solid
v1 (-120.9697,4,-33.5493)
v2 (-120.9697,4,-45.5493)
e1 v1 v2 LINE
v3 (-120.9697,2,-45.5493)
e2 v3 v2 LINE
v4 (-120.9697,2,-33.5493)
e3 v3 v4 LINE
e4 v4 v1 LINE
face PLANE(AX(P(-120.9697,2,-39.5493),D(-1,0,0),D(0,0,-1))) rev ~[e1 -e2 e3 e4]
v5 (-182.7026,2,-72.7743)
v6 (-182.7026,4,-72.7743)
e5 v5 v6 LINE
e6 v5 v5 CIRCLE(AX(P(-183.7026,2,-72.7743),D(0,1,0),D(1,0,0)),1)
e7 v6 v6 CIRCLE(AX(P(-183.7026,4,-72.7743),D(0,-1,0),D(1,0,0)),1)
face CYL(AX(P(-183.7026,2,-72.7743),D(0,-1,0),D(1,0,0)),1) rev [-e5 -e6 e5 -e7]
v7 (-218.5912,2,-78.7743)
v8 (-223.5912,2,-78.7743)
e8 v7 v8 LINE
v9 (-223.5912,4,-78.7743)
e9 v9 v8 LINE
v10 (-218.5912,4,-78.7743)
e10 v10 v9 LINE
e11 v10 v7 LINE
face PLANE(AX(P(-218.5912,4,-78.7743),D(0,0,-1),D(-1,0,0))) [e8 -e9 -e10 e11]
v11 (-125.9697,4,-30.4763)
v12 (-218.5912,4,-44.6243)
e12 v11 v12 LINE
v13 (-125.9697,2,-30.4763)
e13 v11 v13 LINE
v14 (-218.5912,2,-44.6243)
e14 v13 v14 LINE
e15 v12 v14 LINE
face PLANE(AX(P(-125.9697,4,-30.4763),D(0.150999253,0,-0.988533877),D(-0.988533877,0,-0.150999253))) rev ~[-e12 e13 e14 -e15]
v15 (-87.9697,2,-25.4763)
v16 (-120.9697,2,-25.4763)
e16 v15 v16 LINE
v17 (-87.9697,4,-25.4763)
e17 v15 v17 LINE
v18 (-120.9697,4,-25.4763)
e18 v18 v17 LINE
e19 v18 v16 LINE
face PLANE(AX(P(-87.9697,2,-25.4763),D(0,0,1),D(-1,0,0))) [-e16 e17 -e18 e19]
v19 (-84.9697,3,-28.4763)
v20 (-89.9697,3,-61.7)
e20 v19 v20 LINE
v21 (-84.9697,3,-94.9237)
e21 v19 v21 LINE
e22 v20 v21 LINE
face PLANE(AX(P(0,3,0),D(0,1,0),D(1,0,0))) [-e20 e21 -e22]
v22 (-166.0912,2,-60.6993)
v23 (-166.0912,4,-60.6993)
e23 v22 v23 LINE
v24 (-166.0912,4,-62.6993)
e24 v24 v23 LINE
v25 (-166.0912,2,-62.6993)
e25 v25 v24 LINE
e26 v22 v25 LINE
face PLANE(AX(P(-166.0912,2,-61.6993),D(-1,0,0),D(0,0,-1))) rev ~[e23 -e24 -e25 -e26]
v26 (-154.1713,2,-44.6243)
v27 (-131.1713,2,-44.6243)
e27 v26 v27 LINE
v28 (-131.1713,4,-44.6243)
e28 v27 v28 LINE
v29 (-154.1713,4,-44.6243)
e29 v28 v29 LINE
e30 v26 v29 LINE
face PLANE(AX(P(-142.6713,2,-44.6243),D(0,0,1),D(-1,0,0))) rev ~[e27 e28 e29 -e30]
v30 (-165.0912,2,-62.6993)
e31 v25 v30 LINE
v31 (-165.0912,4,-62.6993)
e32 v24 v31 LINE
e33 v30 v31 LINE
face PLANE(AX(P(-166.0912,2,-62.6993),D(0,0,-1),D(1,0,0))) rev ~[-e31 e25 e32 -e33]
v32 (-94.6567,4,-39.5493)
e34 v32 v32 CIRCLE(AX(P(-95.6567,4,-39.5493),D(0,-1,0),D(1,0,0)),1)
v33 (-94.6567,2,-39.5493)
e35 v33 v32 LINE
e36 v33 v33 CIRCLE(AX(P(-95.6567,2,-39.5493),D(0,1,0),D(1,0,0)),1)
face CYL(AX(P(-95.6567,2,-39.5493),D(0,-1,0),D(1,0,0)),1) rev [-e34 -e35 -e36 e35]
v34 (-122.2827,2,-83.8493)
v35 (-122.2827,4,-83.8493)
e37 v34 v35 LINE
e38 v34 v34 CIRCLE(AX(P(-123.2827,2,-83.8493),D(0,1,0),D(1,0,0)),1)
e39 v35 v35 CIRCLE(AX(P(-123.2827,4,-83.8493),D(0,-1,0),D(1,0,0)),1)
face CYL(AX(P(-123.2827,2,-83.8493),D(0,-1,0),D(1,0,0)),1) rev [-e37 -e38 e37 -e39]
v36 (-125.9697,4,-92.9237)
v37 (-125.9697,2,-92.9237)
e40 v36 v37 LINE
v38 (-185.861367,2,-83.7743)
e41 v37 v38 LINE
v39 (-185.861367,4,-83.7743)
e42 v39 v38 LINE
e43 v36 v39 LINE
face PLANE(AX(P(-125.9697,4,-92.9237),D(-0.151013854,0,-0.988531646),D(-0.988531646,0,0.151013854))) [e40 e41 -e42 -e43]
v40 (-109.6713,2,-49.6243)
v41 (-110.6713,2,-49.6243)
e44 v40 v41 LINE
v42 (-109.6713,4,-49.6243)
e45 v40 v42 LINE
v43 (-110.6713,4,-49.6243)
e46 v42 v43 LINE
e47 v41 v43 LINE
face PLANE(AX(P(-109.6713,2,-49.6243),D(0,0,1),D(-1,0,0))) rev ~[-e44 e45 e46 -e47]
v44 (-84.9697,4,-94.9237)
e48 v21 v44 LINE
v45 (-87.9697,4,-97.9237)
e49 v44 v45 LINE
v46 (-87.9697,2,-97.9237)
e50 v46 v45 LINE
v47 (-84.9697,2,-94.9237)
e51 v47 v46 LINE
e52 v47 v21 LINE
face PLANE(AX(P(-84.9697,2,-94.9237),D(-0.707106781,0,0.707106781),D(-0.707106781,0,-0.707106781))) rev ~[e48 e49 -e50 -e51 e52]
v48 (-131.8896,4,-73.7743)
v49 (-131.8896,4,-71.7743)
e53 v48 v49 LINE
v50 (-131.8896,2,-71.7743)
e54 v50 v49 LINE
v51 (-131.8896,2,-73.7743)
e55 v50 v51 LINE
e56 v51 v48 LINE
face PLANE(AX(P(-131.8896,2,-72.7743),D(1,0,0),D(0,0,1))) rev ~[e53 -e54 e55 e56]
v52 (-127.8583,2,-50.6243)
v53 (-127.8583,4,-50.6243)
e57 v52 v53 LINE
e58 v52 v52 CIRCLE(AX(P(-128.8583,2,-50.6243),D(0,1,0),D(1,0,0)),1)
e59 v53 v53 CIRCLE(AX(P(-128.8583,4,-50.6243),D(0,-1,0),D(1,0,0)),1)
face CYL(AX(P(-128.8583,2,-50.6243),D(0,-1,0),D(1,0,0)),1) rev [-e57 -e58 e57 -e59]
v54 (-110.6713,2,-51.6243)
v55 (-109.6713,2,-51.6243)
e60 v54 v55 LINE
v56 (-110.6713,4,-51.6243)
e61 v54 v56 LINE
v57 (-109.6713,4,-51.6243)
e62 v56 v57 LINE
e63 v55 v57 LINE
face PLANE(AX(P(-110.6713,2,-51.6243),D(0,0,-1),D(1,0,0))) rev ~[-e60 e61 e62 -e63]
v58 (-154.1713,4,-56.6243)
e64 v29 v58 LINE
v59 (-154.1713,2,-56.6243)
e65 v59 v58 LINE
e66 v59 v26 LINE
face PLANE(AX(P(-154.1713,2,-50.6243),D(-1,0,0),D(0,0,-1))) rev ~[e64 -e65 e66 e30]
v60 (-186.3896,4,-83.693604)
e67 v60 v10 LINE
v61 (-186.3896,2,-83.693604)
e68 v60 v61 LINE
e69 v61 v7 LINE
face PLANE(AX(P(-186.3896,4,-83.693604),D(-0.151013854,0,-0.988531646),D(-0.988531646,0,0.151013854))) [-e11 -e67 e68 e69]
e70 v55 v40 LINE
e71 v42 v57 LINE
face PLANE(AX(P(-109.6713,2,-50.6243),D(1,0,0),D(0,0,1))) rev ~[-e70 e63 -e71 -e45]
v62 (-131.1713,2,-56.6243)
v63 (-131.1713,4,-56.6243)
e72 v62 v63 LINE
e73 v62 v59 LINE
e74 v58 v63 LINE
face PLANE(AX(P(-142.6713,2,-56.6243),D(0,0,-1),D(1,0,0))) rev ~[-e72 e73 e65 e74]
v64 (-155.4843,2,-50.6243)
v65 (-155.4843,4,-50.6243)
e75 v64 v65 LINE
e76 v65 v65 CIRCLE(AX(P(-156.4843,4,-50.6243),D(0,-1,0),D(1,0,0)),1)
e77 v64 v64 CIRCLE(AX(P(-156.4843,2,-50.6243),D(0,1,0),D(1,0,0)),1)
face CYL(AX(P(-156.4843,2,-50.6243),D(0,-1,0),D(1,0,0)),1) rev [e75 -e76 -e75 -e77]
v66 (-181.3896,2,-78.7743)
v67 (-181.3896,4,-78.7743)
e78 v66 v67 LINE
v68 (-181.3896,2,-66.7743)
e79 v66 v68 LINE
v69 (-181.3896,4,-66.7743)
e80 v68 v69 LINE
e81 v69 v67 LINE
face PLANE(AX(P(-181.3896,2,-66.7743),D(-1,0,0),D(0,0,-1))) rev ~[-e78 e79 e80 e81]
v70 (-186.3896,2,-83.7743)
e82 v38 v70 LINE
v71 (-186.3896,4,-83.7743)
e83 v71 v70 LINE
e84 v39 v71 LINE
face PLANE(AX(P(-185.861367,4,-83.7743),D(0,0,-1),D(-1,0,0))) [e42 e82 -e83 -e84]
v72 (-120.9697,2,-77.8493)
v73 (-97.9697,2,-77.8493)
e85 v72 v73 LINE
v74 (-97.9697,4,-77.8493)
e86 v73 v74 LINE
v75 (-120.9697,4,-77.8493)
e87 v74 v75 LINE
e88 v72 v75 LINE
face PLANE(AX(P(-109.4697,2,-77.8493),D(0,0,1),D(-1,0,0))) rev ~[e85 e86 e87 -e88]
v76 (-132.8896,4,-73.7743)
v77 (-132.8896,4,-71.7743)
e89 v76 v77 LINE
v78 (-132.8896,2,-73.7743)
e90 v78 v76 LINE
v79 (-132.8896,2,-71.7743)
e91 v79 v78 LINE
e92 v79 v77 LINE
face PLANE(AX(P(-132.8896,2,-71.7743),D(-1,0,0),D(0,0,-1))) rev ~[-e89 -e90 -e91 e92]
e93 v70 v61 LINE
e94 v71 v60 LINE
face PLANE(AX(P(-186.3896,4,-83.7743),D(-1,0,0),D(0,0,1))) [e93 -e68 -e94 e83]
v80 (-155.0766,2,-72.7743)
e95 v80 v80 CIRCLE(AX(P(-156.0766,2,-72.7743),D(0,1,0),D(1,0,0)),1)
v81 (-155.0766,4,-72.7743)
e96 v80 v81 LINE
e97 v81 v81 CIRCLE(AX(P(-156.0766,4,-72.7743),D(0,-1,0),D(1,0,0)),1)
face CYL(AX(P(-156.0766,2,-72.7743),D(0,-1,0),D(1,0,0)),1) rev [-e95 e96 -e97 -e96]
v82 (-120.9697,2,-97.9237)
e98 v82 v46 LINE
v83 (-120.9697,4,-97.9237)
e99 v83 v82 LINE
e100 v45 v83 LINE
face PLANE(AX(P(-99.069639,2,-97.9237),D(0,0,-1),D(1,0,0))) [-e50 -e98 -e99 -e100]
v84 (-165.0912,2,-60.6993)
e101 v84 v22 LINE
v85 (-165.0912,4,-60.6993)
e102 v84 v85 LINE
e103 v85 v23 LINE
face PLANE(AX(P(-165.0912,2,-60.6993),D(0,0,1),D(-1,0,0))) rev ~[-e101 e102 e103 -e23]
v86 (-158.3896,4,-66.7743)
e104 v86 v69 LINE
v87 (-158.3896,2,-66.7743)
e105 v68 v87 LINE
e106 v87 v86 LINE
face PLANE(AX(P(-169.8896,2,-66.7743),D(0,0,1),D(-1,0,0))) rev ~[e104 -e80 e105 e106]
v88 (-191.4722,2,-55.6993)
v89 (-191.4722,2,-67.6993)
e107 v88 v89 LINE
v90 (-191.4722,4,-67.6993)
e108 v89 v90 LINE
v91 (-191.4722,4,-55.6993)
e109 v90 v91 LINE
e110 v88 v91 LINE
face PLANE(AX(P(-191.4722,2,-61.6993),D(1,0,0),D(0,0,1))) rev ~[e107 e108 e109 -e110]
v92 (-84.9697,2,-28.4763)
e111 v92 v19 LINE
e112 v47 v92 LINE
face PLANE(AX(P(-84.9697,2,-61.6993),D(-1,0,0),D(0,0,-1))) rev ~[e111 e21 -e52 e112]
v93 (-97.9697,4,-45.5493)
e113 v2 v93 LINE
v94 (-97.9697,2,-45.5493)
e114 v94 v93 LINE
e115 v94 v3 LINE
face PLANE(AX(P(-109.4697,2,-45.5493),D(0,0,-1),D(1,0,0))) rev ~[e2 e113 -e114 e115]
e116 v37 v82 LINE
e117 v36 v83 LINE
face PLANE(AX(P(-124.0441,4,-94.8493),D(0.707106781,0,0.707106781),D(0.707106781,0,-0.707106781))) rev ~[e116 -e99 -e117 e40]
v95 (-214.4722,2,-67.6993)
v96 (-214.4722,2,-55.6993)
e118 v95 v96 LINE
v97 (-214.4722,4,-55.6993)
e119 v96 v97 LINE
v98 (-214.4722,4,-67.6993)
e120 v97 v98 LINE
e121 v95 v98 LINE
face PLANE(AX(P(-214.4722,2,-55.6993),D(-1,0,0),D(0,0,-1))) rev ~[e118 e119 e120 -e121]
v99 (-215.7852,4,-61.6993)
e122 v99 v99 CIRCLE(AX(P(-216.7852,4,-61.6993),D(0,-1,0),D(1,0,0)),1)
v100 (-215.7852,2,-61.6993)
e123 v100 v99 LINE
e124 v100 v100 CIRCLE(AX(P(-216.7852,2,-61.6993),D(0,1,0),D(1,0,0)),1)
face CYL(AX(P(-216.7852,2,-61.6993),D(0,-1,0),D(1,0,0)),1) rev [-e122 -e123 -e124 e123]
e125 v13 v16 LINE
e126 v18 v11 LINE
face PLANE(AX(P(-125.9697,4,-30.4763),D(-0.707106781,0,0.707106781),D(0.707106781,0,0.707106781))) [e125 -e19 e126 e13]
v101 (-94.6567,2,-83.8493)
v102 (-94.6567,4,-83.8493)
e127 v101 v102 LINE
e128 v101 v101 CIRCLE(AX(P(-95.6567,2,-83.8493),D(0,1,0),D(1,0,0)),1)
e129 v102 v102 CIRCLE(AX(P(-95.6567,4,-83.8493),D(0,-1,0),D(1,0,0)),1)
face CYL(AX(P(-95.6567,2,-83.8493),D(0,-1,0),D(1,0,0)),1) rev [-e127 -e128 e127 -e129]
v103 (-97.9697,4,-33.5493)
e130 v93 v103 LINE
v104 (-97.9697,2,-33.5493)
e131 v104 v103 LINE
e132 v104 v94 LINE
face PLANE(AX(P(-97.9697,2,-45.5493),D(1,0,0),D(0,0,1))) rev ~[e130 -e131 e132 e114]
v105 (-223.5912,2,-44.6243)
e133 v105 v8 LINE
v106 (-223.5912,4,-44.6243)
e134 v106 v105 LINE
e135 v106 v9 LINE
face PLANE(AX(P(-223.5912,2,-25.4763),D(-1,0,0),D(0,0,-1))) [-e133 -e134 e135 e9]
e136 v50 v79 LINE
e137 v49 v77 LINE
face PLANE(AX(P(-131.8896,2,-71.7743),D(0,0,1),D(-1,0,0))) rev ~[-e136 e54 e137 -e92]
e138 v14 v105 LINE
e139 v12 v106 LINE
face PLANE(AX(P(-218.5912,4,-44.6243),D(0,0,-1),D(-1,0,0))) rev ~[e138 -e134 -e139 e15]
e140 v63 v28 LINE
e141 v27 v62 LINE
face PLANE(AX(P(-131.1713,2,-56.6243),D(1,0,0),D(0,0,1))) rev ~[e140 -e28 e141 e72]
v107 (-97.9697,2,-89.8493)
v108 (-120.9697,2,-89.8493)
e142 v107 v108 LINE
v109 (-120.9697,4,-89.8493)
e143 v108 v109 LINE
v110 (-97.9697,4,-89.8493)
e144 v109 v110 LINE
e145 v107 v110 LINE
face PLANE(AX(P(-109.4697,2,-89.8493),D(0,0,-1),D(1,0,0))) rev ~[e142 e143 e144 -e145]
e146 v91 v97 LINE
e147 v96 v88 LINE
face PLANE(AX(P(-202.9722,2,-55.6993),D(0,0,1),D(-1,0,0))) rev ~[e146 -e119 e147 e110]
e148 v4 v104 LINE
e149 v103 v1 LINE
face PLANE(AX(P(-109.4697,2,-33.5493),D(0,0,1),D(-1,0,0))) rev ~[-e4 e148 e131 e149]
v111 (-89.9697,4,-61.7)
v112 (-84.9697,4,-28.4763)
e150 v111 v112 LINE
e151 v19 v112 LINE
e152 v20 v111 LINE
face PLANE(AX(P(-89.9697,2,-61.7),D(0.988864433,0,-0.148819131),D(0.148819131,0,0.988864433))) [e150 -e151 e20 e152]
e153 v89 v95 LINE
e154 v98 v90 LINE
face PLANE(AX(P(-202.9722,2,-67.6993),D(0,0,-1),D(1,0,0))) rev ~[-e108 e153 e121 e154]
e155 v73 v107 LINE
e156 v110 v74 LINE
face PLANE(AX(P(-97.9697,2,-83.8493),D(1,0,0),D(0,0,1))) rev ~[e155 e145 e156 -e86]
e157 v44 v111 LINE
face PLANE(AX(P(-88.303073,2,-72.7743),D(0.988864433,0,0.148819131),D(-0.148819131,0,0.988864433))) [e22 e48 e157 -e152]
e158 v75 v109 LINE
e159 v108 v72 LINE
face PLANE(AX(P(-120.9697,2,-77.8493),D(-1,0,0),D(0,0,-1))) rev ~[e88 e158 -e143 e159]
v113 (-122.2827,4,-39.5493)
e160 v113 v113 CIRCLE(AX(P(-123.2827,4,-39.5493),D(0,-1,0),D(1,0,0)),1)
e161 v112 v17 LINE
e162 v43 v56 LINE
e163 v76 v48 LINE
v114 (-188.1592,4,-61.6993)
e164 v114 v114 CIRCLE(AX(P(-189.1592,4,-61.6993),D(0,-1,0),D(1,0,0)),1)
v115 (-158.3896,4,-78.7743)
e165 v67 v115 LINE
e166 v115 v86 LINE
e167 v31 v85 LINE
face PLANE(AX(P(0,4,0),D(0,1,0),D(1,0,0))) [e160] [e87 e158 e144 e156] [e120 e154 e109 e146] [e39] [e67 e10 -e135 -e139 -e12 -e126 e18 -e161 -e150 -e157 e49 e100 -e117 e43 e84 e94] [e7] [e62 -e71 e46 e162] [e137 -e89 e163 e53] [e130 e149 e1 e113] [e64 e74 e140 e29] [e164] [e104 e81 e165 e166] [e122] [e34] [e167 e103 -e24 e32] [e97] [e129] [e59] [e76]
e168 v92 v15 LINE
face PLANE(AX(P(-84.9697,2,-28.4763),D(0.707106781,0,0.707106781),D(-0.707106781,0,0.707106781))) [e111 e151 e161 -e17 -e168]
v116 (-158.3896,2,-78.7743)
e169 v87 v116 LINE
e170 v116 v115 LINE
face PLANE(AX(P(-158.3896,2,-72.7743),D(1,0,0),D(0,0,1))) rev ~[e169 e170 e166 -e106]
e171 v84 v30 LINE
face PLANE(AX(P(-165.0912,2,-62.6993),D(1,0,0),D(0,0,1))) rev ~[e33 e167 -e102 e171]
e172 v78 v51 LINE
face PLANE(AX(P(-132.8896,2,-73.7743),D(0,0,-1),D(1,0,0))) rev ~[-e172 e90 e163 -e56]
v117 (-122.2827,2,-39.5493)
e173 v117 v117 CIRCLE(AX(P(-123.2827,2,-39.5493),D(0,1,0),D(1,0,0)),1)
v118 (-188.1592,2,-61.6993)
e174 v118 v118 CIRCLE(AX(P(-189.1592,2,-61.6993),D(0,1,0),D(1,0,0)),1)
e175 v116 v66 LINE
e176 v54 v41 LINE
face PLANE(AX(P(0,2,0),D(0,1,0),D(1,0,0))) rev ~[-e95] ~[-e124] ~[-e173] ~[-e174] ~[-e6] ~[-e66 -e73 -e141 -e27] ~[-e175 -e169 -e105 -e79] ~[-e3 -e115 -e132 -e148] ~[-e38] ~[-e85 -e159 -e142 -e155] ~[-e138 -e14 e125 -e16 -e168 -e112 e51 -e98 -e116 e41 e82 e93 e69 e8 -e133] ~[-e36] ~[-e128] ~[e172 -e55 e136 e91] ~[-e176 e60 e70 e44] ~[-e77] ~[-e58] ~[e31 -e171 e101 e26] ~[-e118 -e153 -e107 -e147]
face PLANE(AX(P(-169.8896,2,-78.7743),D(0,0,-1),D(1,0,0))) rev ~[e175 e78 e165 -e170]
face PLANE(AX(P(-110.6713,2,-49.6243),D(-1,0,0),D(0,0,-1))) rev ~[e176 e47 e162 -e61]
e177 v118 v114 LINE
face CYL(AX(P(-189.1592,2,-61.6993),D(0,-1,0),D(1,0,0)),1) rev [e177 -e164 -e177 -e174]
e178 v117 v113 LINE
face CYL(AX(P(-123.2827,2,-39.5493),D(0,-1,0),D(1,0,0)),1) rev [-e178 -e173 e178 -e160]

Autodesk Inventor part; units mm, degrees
ref_plane "YZ Plane" through (0, 0, 0) normal (1, 0, 0) x (0, 1, 0)
ref_plane "XZ Plane" through (0, 0, 0) normal (0, 1, 0) x (-1, 0, 0)
ref_plane "Work Plane1" through (0, 2, 0) normal (0, 1, 0) x (1, 0, 0)
sketch "Sketch4" plane through (0, 2, 0) normal (0, 1, 0) x (1, 0, 0)
  line L0 (-81.9697, 60.7) -> (-81.9697, 62.7) projected
  line L1 (-81.9697, 62.7) -> (-80.9697, 62.7) projected
  line L2 (-80.9697, 62.7) -> (-80.9697, 60.7) projected
  line L3 (-80.9697, 60.7) -> (-81.9697, 60.7) projected
  line L4 (-81.9697, 49.6253) -> (-81.9697, 51.6253) projected
  line L5 (-81.9697, 51.6253) -> (-80.9697, 51.6253) projected
  line L6 (-80.9697, 51.6253) -> (-80.9697, 49.6253) projected
  line L7 (-80.9697, 49.6253) -> (-81.9697, 49.6253) projected
  line L8 (-81.9697, 71.7747) -> (-81.9697, 73.7747) projected
  line L9 (-81.9697, 73.7747) -> (-80.9697, 73.7747) projected
  line L10 (-80.9697, 73.7747) -> (-80.9697, 71.7747) projected
  line L11 (-80.9697, 71.7747) -> (-81.9697, 71.7747) projected
  line L12 (-81.9697, 38.5507) -> (-81.9697, 40.5507) projected
  line L13 (-81.9697, 40.5507) -> (-80.9697, 40.5507) projected
  line L14 (-80.9697, 40.5507) -> (-80.9697, 38.5507) projected
  line L15 (-80.9697, 38.5507) -> (-81.9697, 38.5507) projected
  line L16 (-81.9697, 82.8493) -> (-81.9697, 84.8493) projected
  line L17 (-81.9697, 84.8493) -> (-80.9697, 84.8493) projected
  line L18 (-80.9697, 84.8493) -> (-80.9697, 82.8493) projected
  line L19 (-80.9697, 82.8493) -> (-81.9697, 82.8493) projected
  line L20 (-61.9934, 117.9) -> (-84.9697, 94.9237) projected
  line L21 (-84.9697, 94.9237) -> (-89.9697, 61.7) projected
  line L22 (-89.9697, 61.7) -> (-84.9697, 28.4763) projected
  line L23 (-84.9697, 28.4763) -> (-61.9934, 5.5) projected
  line L24 (-61.9934, 5.5) -> (0, 5.5) projected
  line L25 (0, 5.5) -> (0, 117.9) projected
  line L26 (0, 117.9) -> (-61.9934, 117.9) projected
  line L27 (-89.9697, 61.7) -> (-84.9697, 94.9237) projected
  line L28 (-84.9697, 94.9237) -> (-220.5912, 94.9237)
  line L29 (-220.5912, 94.9237) -> (-220.5912, 28.4763)
  line L30 (-220.5912, 28.4763) -> (-84.9697, 28.4763)
  line L31 (-84.9697, 28.4763) -> (-84.9697, 94.9237)
  line L32 (-91.9697, 94.9237) -> (-91.9697, 28.4763)
  line L33 (-81.9697, 25.4763) -> (-223.5912, 25.4763)
  line L34 (-223.5912, 25.4763) -> (-223.5912, 97.9237)
  line L35 (-223.5912, 97.9237) -> (-81.9697, 97.9237)
  line L36 (-81.9697, 97.9237) -> (-81.9697, 25.4763)
  line L37 (-84.9697, 94.9237) -> (-84.9697, 28.4763) projected
  line L38 (-84.9697, 28.4763) -> (-87.9697, 25.4763)
  line L39 (-84.9697, 28.4763) -> (-80.7271, 28.4763) construction
  line L40 (-84.9697, 94.9237) -> (-87.9697, 97.9237)
  line L41 (-84.9697, 94.9237) -> (-80.7271, 94.9237) construction
  line L42 (-81.9697, 83.8493) -> (-220.5912, 83.8493)
  line L43 (-81.9697, 83.8493) -> (56.6518, 83.8493) construction
  line L44 (-81.9697, 72.7743) -> (-220.5912, 72.7743)
  line L45 (-81.9697, 61.6993) -> (-220.5912, 61.6993)
  line L46 (-81.9697, 50.6243) -> (-220.5912, 50.6243)
  line L47 (-81.9697, 39.5493) -> (-220.5912, 39.5493)
  circle A0 centre (-109.4697, 83.8493) radius 17.5
  circle A1 centre (-109.4697, 39.5493) radius 17.5
  circle A2 centre (-203.0912, 61.6993) radius 17.5
  line L48 (-182.3896, 71.2657) -> (-182.3896, 65.7743)
  line L49 (-182.3896, 65.7743) -> (-157.3896, 65.7743)
  line L50 (-157.3896, 65.7743) -> (-157.3896, 71.2657)
  arc A3 (-157.3896, 71.2657) -> (-157.3896, 74.283) centre (-156.0766, 72.7743) ccw
  line L51 (-157.3896, 74.283) -> (-157.3896, 79.7743)
  line L52 (-157.3896, 79.7743) -> (-182.3896, 79.7743)
  line L53 (-182.3896, 79.7743) -> (-182.3896, 74.283)
  arc A4 (-182.3896, 74.283) -> (-182.3896, 71.2657) centre (-183.7026, 72.7743) ccw
  line L54 (-181.3896, 66.7743) -> (-181.3896, 78.7743)
  line L55 (-181.3896, 78.7743) -> (-158.3896, 78.7743)
  line L56 (-158.3896, 78.7743) -> (-158.3896, 66.7743)
  line L57 (-158.3896, 66.7743) -> (-181.3896, 66.7743)
  circle A5 centre (-156.0766, 72.7743) radius 1
  circle A6 centre (-183.7026, 72.7743) radius 1
  line L58 (-169.8896, 78.7743) -> (-169.8896, 66.7743)
  line L59 (-158.3896, 72.7743) -> (-181.3896, 72.7743)
  circle A7 centre (-169.8896, 72.7743) radius 0.5
  line L60 (-121.9697, 82.3407) -> (-121.9697, 76.8493)
  line L61 (-121.9697, 76.8493) -> (-96.9697, 76.8493)
  line L62 (-96.9697, 76.8493) -> (-96.9697, 82.3407)
  arc A8 (-96.9697, 82.3407) -> (-96.9697, 85.358) centre (-95.6567, 83.8493) ccw
  line L63 (-96.9697, 85.358) -> (-96.9697, 90.8493)
  line L64 (-96.9697, 90.8493) -> (-121.9697, 90.8493)
  line L65 (-121.9697, 90.8493) -> (-121.9697, 85.358)
  arc A9 (-121.9697, 85.358) -> (-121.9697, 82.3407) centre (-123.2827, 83.8493) ccw
  line L66 (-120.9697, 77.8493) -> (-120.9697, 89.8493)
  line L67 (-120.9697, 89.8493) -> (-97.9697, 89.8493)
  line L68 (-97.9697, 89.8493) -> (-97.9697, 77.8493)
  line L69 (-97.9697, 77.8493) -> (-120.9697, 77.8493)
  circle A10 centre (-95.6567, 83.8493) radius 1
  circle A11 centre (-123.2827, 83.8493) radius 1
  line L70 (-109.4697, 89.8493) -> (-109.4697, 77.8493)
  line L71 (-97.9697, 83.8493) -> (-120.9697, 83.8493)
  circle A12 centre (-109.4697, 83.8493) radius 0.5
  line L72 (-155.1713, 49.1157) -> (-155.1713, 43.6243)
  line L73 (-155.1713, 43.6243) -> (-130.1713, 43.6243)
  line L74 (-130.1713, 43.6243) -> (-130.1713, 49.1157)
  arc A13 (-130.1713, 49.1157) -> (-130.1713, 52.133) centre (-128.8583, 50.6243) ccw
  line L75 (-130.1713, 52.133) -> (-130.1713, 57.6243)
  line L76 (-130.1713, 57.6243) -> (-155.1713, 57.6243)
  line L77 (-155.1713, 57.6243) -> (-155.1713, 52.133)
  arc A14 (-155.1713, 52.133) -> (-155.1713, 49.1157) centre (-156.4843, 50.6243) ccw
  line L78 (-154.1713, 44.6243) -> (-154.1713, 56.6243)
  line L79 (-154.1713, 56.6243) -> (-131.1713, 56.6243)
  line L80 (-131.1713, 56.6243) -> (-131.1713, 44.6243)
  line L81 (-131.1713, 44.6243) -> (-154.1713, 44.6243)
  circle A15 centre (-128.8583, 50.6243) radius 1
  circle A16 centre (-156.4843, 50.6243) radius 1
  line L82 (-142.6713, 56.6243) -> (-142.6713, 44.6243)
  line L83 (-131.1713, 50.6243) -> (-154.1713, 50.6243)
  circle A17 centre (-142.6713, 50.6243) radius 0.5
  circle A18 centre (-216.7852, 61.6993) radius 1
  arc A19 (-215.4722, 63.208) -> (-215.4722, 60.1907) centre (-216.7852, 61.6993) ccw
  circle A20 centre (-189.1592, 61.6993) radius 1
  arc A21 (-190.4722, 60.1907) -> (-190.4722, 63.208) centre (-189.1592, 61.6993) ccw
  line L84 (-215.4722, 54.6993) -> (-190.4722, 54.6993)
  line L85 (-191.4722, 55.6993) -> (-214.4722, 55.6993)
  circle A22 centre (-202.9722, 61.6993) radius 0.5
  line L86 (-191.4722, 67.6993) -> (-191.4722, 55.6993)
  line L87 (-190.4722, 63.208) -> (-190.4722, 68.6993)
  line L88 (-215.4722, 60.1907) -> (-215.4722, 54.6993)
  line L89 (-191.4722, 61.6993) -> (-214.4722, 61.6993)
  line L90 (-202.9722, 67.6993) -> (-202.9722, 55.6993)
  line L91 (-214.4722, 55.6993) -> (-214.4722, 67.6993)
  line L92 (-214.4722, 67.6993) -> (-191.4722, 67.6993)
  line L93 (-215.4722, 68.6993) -> (-215.4722, 63.208)
  line L94 (-190.4722, 68.6993) -> (-215.4722, 68.6993)
  line L95 (-190.4722, 54.6993) -> (-190.4722, 60.1907)
  line L96 (-96.9697, 32.5493) -> (-96.9697, 38.0407)
  circle A23 centre (-95.6567, 39.5493) radius 1
  line L97 (-97.9697, 45.5493) -> (-97.9697, 33.5493)
  line L98 (-96.9697, 41.058) -> (-96.9697, 46.5493)
  arc A24 (-96.9697, 38.0407) -> (-96.9697, 41.058) centre (-95.6567, 39.5493) ccw
  circle A25 centre (-123.2827, 39.5493) radius 1
  line L99 (-109.4697, 45.5493) -> (-109.4697, 33.5493)
  circle A26 centre (-109.4697, 39.5493) radius 0.5
  line L100 (-97.9697, 39.5493) -> (-120.9697, 39.5493)
  line L101 (-97.9697, 33.5493) -> (-120.9697, 33.5493)
  line L102 (-120.9697, 45.5493) -> (-97.9697, 45.5493)
  line L103 (-121.9697, 32.5493) -> (-96.9697, 32.5493)
  line L104 (-96.9697, 46.5493) -> (-121.9697, 46.5493)
  line L105 (-121.9697, 38.0407) -> (-121.9697, 32.5493)
  line L106 (-120.9697, 33.5493) -> (-120.9697, 45.5493)
  arc A27 (-121.9697, 41.058) -> (-121.9697, 38.0407) centre (-123.2827, 39.5493) ccw
  line L107 (-121.9697, 46.5493) -> (-121.9697, 41.058)
  circle A28 centre (-142.6713, 50.6243) radius 17.5
  circle A29 centre (-169.8896, 72.7743) radius 17.5
  point P0 (0, 0)
  point P1 (-154.188, 74.9293)
  dimension "d22" = 7
  dimension "d23" = 3
  dimension "d24" = 135
  dimension "d25" = 135
  dimension "d26" = 180
  dimension "d29" = 11.075
  dimension "d34" = 35
  dimension "d35" = 17.5
  dimension "d36" = 0
  dimension "d37" = 35
  dimension "d38" = 0
  dimension "d39" = 17.5
  dimension "d44" = 35
  dimension "d45" = 0
  dimension "d46" = 17.5
  dimension "d47" = 1
  dimension "d48" = 1
  dimension "d49" = 1
  dimension "d50" = 1
  dimension "d51" = 1
  dimension "d56" = 35
  dimension "d57" = 35
extrude "Extrusion4" add sketch "Sketch4" along normal blind 2 contours L45 L32 L44 L21 | L22 L46 L32 L45 | L22 L47 L32 L46 | L44 L32 L42 L21 | L45 A28 A29 L44 A0 L32 | L32 L46 A1 A28 L45 | L30 L32 L47 L22 | L38 L33 A1 L30 | L32 A1 L46 | L21 L42 L32 L28 | L28 A0 L35 L40 | L44 A0 L32 | A28 L46 A13 L75 L76 L77 A14 L45 | L45 A28 | L30 A1 L32 | A1 L30 L47 A27 L105 L103 L96 A24 | L47 A24 L98 L104 L107 A27 A1 L46 | L46 A1 | L32 A0 L28 | A0 L44 L42 A9 L60 L61 L62 A8 | L42 A8 L63 L64 L65 A9 A0 L28 | A0 L44 | A28 L46 A2 L45 A29 | A28 L47 L46 A14 L72 L73 L74 A13 | L46 A1 A28 | A1 L33 L30 | A24 L96 L103 L105 A27 L47 A25 L106 L101 L97 A23 | L47 A23 L97 L102 L106 A25 A27 L107 L104 L98 A24 | L28 A0 L35 | A8 L62 L61 L60 A9 L42 A11 L66 L69 L68 A10 | L42 A10 L68 L67 L66 A11 A9 L65 L64 L63 A8 | L44 A29 L42 A0 | A29 L45 | L45 A29 L44 A4 L48 L49 L50 A3 | A28 L47 L29 L46 A2 | A13 L74 L73 L72 A14 L46 A16 L78 L81 L80 A15 | L46 A15 L80 L79 L78 A16 A14 L77 L76 L75 A13 | A1 L47 A28 | A1 L33 L34 L35 A0 L28 L29 L30 | L30 L29 L47 A28 A1 | A0 L42 A29 L29 L28 | L44 A3 L51 L52 L53 A4 A29 L42 | L45 A2 A29 | A2 L46 | L46 A2 L45 A19 L88 L84 L95 A21 | L47 A28 | A3 L50 L49 L48 A4 L44 A6 L54 L57 L56 A5 | L44 A5 L56 L55 L54 A6 A4 L53 L52 L51 A3 | L42 A29 | L45 A21 L87 L94 L93 A19 A2 L44 | A2 L44 A29 | L46 L29 A2 | L42 A29 L44 A2 L29 | A21 L95 L84 L88 A19 L45 A18 L91 L85 L86 A20 | L45 A20 L86 L92 L91 A18 A19 L93 L94 L87 A21 | L44 A2 | L29 L44 A2
extrude "Extrusion5" add sketch "Sketch4" along normal blind 1 contours L45 L21 L44 L31 | L31 L46 L22 L45 | L31 L47 L22 L46 | L44 L21 L42 L31 | L31 L22 L47 | L42 L21 L31
sketch "Sketch5" plane through (0, 2, 0) normal (0, -1, 0) x (1, 0, 0)
  line L0 (-131.8896, -71.7743) -> (-132.8896, -71.7743)
  line L1 (-132.8896, -71.7743) -> (-132.8896, -73.7743)
  line L2 (-132.8896, -73.7743) -> (-131.8896, -73.7743)
  line L3 (-131.8896, -73.7743) -> (-131.8896, -71.7743)
  line L4 (-81.9697, -50.6243) -> (-220.5912, -50.6243) projected
  line L5 (-81.9697, -61.6993) -> (-220.5912, -61.6993) projected
  line L6 (-81.9697, -72.7743) -> (-220.5912, -72.7743) projected
  circle A0 centre (-169.8896, -72.7743) radius 17.5 projected
  circle A1 centre (-203.0912, -61.6993) radius 17.5 projected
  circle A2 centre (-142.6713, -50.6243) radius 17.5 projected
  line L7 (-109.6713, -49.6243) -> (-110.6713, -49.6243)
  line L8 (-110.6713, -49.6243) -> (-110.6713, -51.6243)
  line L9 (-110.6713, -51.6243) -> (-109.6713, -51.6243)
  line L10 (-109.6713, -51.6243) -> (-109.6713, -49.6243)
  line L11 (-165.0912, -60.6993) -> (-166.0912, -60.6993)
  line L12 (-166.0912, -60.6993) -> (-166.0912, -62.6993)
  line L13 (-166.0912, -62.6993) -> (-165.0912, -62.6993)
  line L14 (-165.0912, -62.6993) -> (-165.0912, -60.6993)
  point P0 (0, 0)
  point P1 (-132.8896, -72.7743)
  point P2 (-132.3896, -73.7743)
  point P3 (-110.6713, -50.6243)
  point P4 (-110.1713, -51.6243)
  point P5 (-166.0912, -61.6993)
  point P6 (-165.5912, -60.6993)
  dimension "d58" = 1
  dimension "d59" = 2
  dimension "d60" = 0
  dimension "d61" = 37.5
  dimension "d62" = 1
  dimension "d63" = 2
  dimension "d64" = 0
  dimension "d65" = 32.5
  dimension "d66" = 1
  dimension "d67" = 2
  dimension "d68" = 0
  dimension "d69" = 37.5
extrude "Extrusion6" cut sketch "Sketch5" against normal up to surface (2 mm away) contours L3 L6 L1 L0 | L8 L7 L10 L4 | L4 L10 L9 L8 | L3 L2 L1 L6 | L14 L13 L12 L5 | L5 L12 L11 L14
sketch "Sketch6" plane through (0, 4, 0) normal (0, 1, 0) x (1, 0, 0)
  line L0 (-166.0912, 62.6993) -> (-165.0912, 62.6993) projected
  line L1 (-165.0912, 62.6993) -> (-165.0912, 60.6993) projected
  line L2 (-165.0912, 60.6993) -> (-166.0912, 60.6993) projected
  line L3 (-166.0912, 60.6993) -> (-166.0912, 62.6993) projected
  line L4 (-110.6713, 51.6243) -> (-109.6713, 51.6243) projected
  line L5 (-109.6713, 51.6243) -> (-109.6713, 49.6243) projected
  line L6 (-109.6713, 49.6243) -> (-110.6713, 49.6243) projected
  line L7 (-110.6713, 49.6243) -> (-110.6713, 51.6243) projected
  line L8 (-131.8896, 73.7743) -> (-131.8896, 71.7743) projected
  line L9 (-131.8896, 71.7743) -> (-132.8896, 71.7743) projected
  line L10 (-132.8896, 71.7743) -> (-132.8896, 73.7743) projected
  line L11 (-132.8896, 73.7743) -> (-131.8896, 73.7743) projected
  line L12 (-84.9697, 94.9237) -> (-87.9697, 97.9237) projected
  line L13 (-87.9697, 97.9237) -> (-223.5912, 97.9237) projected
  line L14 (-223.5912, 97.9237) -> (-223.5912, 25.4763) projected
  line L15 (-223.5912, 25.4763) -> (-87.9697, 25.4763) projected
  line L16 (-87.9697, 25.4763) -> (-84.9697, 28.4763) projected
  line L17 (-84.9697, 28.4763) -> (-89.9697, 61.7) projected
  line L18 (-89.9697, 61.7) -> (-84.9697, 94.9237) projected
  line L19 (-181.3896, 66.7743) -> (-181.3896, 78.7743) projected
  line L20 (-181.3896, 78.7743) -> (-158.3896, 78.7743) projected
  line L21 (-158.3896, 78.7743) -> (-158.3896, 66.7743) projected
  line L22 (-158.3896, 66.7743) -> (-181.3896, 66.7743) projected
  circle A0 centre (-156.0766, 72.7743) radius 1 projected
  line L23 (-120.9697, 77.8493) -> (-120.9697, 89.8493) projected
  line L24 (-120.9697, 89.8493) -> (-97.9697, 89.8493) projected
  line L25 (-97.9697, 89.8493) -> (-97.9697, 77.8493) projected
  line L26 (-97.9697, 77.8493) -> (-120.9697, 77.8493) projected
  circle A1 centre (-95.6567, 83.8493) radius 1 projected
  circle A2 centre (-156.4843, 50.6243) radius 1 projected
  line L27 (-154.1713, 44.6243) -> (-154.1713, 56.6243) projected
  line L28 (-154.1713, 56.6243) -> (-131.1713, 56.6243) projected
  line L29 (-131.1713, 56.6243) -> (-131.1713, 44.6243) projected
  line L30 (-131.1713, 44.6243) -> (-154.1713, 44.6243) projected
  circle A3 centre (-216.7852, 61.6993) radius 1 projected
  line L31 (-214.4722, 55.6993) -> (-214.4722, 67.6993) projected
  line L32 (-214.4722, 67.6993) -> (-191.4722, 67.6993) projected
  line L33 (-191.4722, 67.6993) -> (-191.4722, 55.6993) projected
  line L34 (-191.4722, 55.6993) -> (-214.4722, 55.6993) projected
  circle A4 centre (-123.2827, 39.5493) radius 1 projected
  line L35 (-120.9697, 33.5493) -> (-120.9697, 45.5493) projected
  line L36 (-120.9697, 45.5493) -> (-97.9697, 45.5493) projected
  line L37 (-97.9697, 45.5493) -> (-97.9697, 33.5493) projected
  line L38 (-97.9697, 33.5493) -> (-120.9697, 33.5493) projected
  circle A5 centre (-95.6567, 39.5493) radius 1 projected
  circle A6 centre (-189.1592, 61.6993) radius 1 projected
  circle A7 centre (-183.7026, 72.7743) radius 1 projected
  circle A8 centre (-123.2827, 83.8493) radius 1 projected
  circle A9 centre (-128.8583, 50.6243) radius 1 projected
  line L39 (-153.3896, 83.7743) -> (-186.3896, 83.7743)
  line L40 (-186.3896, 83.7743) -> (-186.3896, 61.7743)
  line L41 (-186.3896, 61.7743) -> (-153.3896, 61.7743)
  line L42 (-153.3896, 61.7743) -> (-153.3896, 83.7743)
  line L43 (-218.5912, 92.9237) -> (-90.327, 92.9237)
  line L44 (-90.327, 92.9237) -> (-95.026, 61.7)
  line L45 (-95.026, 61.7) -> (-90.327, 30.4763)
  line L46 (-90.327, 30.4763) -> (-218.5912, 30.4763)
  line L47 (-218.5912, 30.4763) -> (-218.5912, 92.9237)
  line L48 (-125.9697, 94.8493) -> (-125.9697, 72.8493)
  line L49 (-125.9697, 72.8493) -> (-92.9697, 72.8493)
  line L50 (-92.9697, 72.8493) -> (-92.9697, 94.8493)
  line L51 (-92.9697, 94.8493) -> (-125.9697, 94.8493)
  line L52 (-125.9697, 50.5493) -> (-125.9697, 28.5493)
  line L53 (-125.9697, 28.5493) -> (-92.9697, 28.5493)
  line L54 (-92.9697, 28.5493) -> (-92.9697, 50.5493)
  line L55 (-92.9697, 50.5493) -> (-125.9697, 50.5493)
  line L56 (-186.4722, 72.6993) -> (-219.4722, 72.6993)
  line L57 (-219.4722, 72.6993) -> (-219.4722, 50.6993)
  line L58 (-219.4722, 50.6993) -> (-186.4722, 50.6993)
  line L59 (-186.4722, 50.6993) -> (-186.4722, 72.6993)
  line L60 (-125.9697, 92.9237) -> (-218.5912, 78.7743)
  line L61 (-125.9697, 30.4763) -> (-218.5912, 44.6243)
  line L62 (-125.9697, 92.9237) -> (-120.9697, 97.9237)
  line L63 (-125.9697, 30.4763) -> (-120.9697, 25.4763)
  line L64 (-223.5912, 25.4763) -> (-87.9697, 25.4763) projected
  line L65 (-218.5912, 78.7743) -> (-223.5912, 78.7743)
  line L66 (-218.5912, 44.6243) -> (-223.5912, 44.6243)
  point P0 (0, 0)
  point P1 (-186.3896, 83.6936)
  point P2 (-185.8613, 83.7743)
  dimension "d72" = 5
  dimension "d73" = 5
  dimension "d74" = 5
  dimension "d75" = 5
  dimension "d76" = 5
extrude "Extrusion7" cut sketch "Sketch6" against normal blind 10 contours L60 L47 L43 L39 L40 | L65 L14 L13 L62 L51 L48 L43 L47 | L48 L51 L62 | L66 L47 L46 L52 L53 L63 L15 L14 | L61 L46 L47 | L63 L53 L52
properties part number "RevisedServoTray"
